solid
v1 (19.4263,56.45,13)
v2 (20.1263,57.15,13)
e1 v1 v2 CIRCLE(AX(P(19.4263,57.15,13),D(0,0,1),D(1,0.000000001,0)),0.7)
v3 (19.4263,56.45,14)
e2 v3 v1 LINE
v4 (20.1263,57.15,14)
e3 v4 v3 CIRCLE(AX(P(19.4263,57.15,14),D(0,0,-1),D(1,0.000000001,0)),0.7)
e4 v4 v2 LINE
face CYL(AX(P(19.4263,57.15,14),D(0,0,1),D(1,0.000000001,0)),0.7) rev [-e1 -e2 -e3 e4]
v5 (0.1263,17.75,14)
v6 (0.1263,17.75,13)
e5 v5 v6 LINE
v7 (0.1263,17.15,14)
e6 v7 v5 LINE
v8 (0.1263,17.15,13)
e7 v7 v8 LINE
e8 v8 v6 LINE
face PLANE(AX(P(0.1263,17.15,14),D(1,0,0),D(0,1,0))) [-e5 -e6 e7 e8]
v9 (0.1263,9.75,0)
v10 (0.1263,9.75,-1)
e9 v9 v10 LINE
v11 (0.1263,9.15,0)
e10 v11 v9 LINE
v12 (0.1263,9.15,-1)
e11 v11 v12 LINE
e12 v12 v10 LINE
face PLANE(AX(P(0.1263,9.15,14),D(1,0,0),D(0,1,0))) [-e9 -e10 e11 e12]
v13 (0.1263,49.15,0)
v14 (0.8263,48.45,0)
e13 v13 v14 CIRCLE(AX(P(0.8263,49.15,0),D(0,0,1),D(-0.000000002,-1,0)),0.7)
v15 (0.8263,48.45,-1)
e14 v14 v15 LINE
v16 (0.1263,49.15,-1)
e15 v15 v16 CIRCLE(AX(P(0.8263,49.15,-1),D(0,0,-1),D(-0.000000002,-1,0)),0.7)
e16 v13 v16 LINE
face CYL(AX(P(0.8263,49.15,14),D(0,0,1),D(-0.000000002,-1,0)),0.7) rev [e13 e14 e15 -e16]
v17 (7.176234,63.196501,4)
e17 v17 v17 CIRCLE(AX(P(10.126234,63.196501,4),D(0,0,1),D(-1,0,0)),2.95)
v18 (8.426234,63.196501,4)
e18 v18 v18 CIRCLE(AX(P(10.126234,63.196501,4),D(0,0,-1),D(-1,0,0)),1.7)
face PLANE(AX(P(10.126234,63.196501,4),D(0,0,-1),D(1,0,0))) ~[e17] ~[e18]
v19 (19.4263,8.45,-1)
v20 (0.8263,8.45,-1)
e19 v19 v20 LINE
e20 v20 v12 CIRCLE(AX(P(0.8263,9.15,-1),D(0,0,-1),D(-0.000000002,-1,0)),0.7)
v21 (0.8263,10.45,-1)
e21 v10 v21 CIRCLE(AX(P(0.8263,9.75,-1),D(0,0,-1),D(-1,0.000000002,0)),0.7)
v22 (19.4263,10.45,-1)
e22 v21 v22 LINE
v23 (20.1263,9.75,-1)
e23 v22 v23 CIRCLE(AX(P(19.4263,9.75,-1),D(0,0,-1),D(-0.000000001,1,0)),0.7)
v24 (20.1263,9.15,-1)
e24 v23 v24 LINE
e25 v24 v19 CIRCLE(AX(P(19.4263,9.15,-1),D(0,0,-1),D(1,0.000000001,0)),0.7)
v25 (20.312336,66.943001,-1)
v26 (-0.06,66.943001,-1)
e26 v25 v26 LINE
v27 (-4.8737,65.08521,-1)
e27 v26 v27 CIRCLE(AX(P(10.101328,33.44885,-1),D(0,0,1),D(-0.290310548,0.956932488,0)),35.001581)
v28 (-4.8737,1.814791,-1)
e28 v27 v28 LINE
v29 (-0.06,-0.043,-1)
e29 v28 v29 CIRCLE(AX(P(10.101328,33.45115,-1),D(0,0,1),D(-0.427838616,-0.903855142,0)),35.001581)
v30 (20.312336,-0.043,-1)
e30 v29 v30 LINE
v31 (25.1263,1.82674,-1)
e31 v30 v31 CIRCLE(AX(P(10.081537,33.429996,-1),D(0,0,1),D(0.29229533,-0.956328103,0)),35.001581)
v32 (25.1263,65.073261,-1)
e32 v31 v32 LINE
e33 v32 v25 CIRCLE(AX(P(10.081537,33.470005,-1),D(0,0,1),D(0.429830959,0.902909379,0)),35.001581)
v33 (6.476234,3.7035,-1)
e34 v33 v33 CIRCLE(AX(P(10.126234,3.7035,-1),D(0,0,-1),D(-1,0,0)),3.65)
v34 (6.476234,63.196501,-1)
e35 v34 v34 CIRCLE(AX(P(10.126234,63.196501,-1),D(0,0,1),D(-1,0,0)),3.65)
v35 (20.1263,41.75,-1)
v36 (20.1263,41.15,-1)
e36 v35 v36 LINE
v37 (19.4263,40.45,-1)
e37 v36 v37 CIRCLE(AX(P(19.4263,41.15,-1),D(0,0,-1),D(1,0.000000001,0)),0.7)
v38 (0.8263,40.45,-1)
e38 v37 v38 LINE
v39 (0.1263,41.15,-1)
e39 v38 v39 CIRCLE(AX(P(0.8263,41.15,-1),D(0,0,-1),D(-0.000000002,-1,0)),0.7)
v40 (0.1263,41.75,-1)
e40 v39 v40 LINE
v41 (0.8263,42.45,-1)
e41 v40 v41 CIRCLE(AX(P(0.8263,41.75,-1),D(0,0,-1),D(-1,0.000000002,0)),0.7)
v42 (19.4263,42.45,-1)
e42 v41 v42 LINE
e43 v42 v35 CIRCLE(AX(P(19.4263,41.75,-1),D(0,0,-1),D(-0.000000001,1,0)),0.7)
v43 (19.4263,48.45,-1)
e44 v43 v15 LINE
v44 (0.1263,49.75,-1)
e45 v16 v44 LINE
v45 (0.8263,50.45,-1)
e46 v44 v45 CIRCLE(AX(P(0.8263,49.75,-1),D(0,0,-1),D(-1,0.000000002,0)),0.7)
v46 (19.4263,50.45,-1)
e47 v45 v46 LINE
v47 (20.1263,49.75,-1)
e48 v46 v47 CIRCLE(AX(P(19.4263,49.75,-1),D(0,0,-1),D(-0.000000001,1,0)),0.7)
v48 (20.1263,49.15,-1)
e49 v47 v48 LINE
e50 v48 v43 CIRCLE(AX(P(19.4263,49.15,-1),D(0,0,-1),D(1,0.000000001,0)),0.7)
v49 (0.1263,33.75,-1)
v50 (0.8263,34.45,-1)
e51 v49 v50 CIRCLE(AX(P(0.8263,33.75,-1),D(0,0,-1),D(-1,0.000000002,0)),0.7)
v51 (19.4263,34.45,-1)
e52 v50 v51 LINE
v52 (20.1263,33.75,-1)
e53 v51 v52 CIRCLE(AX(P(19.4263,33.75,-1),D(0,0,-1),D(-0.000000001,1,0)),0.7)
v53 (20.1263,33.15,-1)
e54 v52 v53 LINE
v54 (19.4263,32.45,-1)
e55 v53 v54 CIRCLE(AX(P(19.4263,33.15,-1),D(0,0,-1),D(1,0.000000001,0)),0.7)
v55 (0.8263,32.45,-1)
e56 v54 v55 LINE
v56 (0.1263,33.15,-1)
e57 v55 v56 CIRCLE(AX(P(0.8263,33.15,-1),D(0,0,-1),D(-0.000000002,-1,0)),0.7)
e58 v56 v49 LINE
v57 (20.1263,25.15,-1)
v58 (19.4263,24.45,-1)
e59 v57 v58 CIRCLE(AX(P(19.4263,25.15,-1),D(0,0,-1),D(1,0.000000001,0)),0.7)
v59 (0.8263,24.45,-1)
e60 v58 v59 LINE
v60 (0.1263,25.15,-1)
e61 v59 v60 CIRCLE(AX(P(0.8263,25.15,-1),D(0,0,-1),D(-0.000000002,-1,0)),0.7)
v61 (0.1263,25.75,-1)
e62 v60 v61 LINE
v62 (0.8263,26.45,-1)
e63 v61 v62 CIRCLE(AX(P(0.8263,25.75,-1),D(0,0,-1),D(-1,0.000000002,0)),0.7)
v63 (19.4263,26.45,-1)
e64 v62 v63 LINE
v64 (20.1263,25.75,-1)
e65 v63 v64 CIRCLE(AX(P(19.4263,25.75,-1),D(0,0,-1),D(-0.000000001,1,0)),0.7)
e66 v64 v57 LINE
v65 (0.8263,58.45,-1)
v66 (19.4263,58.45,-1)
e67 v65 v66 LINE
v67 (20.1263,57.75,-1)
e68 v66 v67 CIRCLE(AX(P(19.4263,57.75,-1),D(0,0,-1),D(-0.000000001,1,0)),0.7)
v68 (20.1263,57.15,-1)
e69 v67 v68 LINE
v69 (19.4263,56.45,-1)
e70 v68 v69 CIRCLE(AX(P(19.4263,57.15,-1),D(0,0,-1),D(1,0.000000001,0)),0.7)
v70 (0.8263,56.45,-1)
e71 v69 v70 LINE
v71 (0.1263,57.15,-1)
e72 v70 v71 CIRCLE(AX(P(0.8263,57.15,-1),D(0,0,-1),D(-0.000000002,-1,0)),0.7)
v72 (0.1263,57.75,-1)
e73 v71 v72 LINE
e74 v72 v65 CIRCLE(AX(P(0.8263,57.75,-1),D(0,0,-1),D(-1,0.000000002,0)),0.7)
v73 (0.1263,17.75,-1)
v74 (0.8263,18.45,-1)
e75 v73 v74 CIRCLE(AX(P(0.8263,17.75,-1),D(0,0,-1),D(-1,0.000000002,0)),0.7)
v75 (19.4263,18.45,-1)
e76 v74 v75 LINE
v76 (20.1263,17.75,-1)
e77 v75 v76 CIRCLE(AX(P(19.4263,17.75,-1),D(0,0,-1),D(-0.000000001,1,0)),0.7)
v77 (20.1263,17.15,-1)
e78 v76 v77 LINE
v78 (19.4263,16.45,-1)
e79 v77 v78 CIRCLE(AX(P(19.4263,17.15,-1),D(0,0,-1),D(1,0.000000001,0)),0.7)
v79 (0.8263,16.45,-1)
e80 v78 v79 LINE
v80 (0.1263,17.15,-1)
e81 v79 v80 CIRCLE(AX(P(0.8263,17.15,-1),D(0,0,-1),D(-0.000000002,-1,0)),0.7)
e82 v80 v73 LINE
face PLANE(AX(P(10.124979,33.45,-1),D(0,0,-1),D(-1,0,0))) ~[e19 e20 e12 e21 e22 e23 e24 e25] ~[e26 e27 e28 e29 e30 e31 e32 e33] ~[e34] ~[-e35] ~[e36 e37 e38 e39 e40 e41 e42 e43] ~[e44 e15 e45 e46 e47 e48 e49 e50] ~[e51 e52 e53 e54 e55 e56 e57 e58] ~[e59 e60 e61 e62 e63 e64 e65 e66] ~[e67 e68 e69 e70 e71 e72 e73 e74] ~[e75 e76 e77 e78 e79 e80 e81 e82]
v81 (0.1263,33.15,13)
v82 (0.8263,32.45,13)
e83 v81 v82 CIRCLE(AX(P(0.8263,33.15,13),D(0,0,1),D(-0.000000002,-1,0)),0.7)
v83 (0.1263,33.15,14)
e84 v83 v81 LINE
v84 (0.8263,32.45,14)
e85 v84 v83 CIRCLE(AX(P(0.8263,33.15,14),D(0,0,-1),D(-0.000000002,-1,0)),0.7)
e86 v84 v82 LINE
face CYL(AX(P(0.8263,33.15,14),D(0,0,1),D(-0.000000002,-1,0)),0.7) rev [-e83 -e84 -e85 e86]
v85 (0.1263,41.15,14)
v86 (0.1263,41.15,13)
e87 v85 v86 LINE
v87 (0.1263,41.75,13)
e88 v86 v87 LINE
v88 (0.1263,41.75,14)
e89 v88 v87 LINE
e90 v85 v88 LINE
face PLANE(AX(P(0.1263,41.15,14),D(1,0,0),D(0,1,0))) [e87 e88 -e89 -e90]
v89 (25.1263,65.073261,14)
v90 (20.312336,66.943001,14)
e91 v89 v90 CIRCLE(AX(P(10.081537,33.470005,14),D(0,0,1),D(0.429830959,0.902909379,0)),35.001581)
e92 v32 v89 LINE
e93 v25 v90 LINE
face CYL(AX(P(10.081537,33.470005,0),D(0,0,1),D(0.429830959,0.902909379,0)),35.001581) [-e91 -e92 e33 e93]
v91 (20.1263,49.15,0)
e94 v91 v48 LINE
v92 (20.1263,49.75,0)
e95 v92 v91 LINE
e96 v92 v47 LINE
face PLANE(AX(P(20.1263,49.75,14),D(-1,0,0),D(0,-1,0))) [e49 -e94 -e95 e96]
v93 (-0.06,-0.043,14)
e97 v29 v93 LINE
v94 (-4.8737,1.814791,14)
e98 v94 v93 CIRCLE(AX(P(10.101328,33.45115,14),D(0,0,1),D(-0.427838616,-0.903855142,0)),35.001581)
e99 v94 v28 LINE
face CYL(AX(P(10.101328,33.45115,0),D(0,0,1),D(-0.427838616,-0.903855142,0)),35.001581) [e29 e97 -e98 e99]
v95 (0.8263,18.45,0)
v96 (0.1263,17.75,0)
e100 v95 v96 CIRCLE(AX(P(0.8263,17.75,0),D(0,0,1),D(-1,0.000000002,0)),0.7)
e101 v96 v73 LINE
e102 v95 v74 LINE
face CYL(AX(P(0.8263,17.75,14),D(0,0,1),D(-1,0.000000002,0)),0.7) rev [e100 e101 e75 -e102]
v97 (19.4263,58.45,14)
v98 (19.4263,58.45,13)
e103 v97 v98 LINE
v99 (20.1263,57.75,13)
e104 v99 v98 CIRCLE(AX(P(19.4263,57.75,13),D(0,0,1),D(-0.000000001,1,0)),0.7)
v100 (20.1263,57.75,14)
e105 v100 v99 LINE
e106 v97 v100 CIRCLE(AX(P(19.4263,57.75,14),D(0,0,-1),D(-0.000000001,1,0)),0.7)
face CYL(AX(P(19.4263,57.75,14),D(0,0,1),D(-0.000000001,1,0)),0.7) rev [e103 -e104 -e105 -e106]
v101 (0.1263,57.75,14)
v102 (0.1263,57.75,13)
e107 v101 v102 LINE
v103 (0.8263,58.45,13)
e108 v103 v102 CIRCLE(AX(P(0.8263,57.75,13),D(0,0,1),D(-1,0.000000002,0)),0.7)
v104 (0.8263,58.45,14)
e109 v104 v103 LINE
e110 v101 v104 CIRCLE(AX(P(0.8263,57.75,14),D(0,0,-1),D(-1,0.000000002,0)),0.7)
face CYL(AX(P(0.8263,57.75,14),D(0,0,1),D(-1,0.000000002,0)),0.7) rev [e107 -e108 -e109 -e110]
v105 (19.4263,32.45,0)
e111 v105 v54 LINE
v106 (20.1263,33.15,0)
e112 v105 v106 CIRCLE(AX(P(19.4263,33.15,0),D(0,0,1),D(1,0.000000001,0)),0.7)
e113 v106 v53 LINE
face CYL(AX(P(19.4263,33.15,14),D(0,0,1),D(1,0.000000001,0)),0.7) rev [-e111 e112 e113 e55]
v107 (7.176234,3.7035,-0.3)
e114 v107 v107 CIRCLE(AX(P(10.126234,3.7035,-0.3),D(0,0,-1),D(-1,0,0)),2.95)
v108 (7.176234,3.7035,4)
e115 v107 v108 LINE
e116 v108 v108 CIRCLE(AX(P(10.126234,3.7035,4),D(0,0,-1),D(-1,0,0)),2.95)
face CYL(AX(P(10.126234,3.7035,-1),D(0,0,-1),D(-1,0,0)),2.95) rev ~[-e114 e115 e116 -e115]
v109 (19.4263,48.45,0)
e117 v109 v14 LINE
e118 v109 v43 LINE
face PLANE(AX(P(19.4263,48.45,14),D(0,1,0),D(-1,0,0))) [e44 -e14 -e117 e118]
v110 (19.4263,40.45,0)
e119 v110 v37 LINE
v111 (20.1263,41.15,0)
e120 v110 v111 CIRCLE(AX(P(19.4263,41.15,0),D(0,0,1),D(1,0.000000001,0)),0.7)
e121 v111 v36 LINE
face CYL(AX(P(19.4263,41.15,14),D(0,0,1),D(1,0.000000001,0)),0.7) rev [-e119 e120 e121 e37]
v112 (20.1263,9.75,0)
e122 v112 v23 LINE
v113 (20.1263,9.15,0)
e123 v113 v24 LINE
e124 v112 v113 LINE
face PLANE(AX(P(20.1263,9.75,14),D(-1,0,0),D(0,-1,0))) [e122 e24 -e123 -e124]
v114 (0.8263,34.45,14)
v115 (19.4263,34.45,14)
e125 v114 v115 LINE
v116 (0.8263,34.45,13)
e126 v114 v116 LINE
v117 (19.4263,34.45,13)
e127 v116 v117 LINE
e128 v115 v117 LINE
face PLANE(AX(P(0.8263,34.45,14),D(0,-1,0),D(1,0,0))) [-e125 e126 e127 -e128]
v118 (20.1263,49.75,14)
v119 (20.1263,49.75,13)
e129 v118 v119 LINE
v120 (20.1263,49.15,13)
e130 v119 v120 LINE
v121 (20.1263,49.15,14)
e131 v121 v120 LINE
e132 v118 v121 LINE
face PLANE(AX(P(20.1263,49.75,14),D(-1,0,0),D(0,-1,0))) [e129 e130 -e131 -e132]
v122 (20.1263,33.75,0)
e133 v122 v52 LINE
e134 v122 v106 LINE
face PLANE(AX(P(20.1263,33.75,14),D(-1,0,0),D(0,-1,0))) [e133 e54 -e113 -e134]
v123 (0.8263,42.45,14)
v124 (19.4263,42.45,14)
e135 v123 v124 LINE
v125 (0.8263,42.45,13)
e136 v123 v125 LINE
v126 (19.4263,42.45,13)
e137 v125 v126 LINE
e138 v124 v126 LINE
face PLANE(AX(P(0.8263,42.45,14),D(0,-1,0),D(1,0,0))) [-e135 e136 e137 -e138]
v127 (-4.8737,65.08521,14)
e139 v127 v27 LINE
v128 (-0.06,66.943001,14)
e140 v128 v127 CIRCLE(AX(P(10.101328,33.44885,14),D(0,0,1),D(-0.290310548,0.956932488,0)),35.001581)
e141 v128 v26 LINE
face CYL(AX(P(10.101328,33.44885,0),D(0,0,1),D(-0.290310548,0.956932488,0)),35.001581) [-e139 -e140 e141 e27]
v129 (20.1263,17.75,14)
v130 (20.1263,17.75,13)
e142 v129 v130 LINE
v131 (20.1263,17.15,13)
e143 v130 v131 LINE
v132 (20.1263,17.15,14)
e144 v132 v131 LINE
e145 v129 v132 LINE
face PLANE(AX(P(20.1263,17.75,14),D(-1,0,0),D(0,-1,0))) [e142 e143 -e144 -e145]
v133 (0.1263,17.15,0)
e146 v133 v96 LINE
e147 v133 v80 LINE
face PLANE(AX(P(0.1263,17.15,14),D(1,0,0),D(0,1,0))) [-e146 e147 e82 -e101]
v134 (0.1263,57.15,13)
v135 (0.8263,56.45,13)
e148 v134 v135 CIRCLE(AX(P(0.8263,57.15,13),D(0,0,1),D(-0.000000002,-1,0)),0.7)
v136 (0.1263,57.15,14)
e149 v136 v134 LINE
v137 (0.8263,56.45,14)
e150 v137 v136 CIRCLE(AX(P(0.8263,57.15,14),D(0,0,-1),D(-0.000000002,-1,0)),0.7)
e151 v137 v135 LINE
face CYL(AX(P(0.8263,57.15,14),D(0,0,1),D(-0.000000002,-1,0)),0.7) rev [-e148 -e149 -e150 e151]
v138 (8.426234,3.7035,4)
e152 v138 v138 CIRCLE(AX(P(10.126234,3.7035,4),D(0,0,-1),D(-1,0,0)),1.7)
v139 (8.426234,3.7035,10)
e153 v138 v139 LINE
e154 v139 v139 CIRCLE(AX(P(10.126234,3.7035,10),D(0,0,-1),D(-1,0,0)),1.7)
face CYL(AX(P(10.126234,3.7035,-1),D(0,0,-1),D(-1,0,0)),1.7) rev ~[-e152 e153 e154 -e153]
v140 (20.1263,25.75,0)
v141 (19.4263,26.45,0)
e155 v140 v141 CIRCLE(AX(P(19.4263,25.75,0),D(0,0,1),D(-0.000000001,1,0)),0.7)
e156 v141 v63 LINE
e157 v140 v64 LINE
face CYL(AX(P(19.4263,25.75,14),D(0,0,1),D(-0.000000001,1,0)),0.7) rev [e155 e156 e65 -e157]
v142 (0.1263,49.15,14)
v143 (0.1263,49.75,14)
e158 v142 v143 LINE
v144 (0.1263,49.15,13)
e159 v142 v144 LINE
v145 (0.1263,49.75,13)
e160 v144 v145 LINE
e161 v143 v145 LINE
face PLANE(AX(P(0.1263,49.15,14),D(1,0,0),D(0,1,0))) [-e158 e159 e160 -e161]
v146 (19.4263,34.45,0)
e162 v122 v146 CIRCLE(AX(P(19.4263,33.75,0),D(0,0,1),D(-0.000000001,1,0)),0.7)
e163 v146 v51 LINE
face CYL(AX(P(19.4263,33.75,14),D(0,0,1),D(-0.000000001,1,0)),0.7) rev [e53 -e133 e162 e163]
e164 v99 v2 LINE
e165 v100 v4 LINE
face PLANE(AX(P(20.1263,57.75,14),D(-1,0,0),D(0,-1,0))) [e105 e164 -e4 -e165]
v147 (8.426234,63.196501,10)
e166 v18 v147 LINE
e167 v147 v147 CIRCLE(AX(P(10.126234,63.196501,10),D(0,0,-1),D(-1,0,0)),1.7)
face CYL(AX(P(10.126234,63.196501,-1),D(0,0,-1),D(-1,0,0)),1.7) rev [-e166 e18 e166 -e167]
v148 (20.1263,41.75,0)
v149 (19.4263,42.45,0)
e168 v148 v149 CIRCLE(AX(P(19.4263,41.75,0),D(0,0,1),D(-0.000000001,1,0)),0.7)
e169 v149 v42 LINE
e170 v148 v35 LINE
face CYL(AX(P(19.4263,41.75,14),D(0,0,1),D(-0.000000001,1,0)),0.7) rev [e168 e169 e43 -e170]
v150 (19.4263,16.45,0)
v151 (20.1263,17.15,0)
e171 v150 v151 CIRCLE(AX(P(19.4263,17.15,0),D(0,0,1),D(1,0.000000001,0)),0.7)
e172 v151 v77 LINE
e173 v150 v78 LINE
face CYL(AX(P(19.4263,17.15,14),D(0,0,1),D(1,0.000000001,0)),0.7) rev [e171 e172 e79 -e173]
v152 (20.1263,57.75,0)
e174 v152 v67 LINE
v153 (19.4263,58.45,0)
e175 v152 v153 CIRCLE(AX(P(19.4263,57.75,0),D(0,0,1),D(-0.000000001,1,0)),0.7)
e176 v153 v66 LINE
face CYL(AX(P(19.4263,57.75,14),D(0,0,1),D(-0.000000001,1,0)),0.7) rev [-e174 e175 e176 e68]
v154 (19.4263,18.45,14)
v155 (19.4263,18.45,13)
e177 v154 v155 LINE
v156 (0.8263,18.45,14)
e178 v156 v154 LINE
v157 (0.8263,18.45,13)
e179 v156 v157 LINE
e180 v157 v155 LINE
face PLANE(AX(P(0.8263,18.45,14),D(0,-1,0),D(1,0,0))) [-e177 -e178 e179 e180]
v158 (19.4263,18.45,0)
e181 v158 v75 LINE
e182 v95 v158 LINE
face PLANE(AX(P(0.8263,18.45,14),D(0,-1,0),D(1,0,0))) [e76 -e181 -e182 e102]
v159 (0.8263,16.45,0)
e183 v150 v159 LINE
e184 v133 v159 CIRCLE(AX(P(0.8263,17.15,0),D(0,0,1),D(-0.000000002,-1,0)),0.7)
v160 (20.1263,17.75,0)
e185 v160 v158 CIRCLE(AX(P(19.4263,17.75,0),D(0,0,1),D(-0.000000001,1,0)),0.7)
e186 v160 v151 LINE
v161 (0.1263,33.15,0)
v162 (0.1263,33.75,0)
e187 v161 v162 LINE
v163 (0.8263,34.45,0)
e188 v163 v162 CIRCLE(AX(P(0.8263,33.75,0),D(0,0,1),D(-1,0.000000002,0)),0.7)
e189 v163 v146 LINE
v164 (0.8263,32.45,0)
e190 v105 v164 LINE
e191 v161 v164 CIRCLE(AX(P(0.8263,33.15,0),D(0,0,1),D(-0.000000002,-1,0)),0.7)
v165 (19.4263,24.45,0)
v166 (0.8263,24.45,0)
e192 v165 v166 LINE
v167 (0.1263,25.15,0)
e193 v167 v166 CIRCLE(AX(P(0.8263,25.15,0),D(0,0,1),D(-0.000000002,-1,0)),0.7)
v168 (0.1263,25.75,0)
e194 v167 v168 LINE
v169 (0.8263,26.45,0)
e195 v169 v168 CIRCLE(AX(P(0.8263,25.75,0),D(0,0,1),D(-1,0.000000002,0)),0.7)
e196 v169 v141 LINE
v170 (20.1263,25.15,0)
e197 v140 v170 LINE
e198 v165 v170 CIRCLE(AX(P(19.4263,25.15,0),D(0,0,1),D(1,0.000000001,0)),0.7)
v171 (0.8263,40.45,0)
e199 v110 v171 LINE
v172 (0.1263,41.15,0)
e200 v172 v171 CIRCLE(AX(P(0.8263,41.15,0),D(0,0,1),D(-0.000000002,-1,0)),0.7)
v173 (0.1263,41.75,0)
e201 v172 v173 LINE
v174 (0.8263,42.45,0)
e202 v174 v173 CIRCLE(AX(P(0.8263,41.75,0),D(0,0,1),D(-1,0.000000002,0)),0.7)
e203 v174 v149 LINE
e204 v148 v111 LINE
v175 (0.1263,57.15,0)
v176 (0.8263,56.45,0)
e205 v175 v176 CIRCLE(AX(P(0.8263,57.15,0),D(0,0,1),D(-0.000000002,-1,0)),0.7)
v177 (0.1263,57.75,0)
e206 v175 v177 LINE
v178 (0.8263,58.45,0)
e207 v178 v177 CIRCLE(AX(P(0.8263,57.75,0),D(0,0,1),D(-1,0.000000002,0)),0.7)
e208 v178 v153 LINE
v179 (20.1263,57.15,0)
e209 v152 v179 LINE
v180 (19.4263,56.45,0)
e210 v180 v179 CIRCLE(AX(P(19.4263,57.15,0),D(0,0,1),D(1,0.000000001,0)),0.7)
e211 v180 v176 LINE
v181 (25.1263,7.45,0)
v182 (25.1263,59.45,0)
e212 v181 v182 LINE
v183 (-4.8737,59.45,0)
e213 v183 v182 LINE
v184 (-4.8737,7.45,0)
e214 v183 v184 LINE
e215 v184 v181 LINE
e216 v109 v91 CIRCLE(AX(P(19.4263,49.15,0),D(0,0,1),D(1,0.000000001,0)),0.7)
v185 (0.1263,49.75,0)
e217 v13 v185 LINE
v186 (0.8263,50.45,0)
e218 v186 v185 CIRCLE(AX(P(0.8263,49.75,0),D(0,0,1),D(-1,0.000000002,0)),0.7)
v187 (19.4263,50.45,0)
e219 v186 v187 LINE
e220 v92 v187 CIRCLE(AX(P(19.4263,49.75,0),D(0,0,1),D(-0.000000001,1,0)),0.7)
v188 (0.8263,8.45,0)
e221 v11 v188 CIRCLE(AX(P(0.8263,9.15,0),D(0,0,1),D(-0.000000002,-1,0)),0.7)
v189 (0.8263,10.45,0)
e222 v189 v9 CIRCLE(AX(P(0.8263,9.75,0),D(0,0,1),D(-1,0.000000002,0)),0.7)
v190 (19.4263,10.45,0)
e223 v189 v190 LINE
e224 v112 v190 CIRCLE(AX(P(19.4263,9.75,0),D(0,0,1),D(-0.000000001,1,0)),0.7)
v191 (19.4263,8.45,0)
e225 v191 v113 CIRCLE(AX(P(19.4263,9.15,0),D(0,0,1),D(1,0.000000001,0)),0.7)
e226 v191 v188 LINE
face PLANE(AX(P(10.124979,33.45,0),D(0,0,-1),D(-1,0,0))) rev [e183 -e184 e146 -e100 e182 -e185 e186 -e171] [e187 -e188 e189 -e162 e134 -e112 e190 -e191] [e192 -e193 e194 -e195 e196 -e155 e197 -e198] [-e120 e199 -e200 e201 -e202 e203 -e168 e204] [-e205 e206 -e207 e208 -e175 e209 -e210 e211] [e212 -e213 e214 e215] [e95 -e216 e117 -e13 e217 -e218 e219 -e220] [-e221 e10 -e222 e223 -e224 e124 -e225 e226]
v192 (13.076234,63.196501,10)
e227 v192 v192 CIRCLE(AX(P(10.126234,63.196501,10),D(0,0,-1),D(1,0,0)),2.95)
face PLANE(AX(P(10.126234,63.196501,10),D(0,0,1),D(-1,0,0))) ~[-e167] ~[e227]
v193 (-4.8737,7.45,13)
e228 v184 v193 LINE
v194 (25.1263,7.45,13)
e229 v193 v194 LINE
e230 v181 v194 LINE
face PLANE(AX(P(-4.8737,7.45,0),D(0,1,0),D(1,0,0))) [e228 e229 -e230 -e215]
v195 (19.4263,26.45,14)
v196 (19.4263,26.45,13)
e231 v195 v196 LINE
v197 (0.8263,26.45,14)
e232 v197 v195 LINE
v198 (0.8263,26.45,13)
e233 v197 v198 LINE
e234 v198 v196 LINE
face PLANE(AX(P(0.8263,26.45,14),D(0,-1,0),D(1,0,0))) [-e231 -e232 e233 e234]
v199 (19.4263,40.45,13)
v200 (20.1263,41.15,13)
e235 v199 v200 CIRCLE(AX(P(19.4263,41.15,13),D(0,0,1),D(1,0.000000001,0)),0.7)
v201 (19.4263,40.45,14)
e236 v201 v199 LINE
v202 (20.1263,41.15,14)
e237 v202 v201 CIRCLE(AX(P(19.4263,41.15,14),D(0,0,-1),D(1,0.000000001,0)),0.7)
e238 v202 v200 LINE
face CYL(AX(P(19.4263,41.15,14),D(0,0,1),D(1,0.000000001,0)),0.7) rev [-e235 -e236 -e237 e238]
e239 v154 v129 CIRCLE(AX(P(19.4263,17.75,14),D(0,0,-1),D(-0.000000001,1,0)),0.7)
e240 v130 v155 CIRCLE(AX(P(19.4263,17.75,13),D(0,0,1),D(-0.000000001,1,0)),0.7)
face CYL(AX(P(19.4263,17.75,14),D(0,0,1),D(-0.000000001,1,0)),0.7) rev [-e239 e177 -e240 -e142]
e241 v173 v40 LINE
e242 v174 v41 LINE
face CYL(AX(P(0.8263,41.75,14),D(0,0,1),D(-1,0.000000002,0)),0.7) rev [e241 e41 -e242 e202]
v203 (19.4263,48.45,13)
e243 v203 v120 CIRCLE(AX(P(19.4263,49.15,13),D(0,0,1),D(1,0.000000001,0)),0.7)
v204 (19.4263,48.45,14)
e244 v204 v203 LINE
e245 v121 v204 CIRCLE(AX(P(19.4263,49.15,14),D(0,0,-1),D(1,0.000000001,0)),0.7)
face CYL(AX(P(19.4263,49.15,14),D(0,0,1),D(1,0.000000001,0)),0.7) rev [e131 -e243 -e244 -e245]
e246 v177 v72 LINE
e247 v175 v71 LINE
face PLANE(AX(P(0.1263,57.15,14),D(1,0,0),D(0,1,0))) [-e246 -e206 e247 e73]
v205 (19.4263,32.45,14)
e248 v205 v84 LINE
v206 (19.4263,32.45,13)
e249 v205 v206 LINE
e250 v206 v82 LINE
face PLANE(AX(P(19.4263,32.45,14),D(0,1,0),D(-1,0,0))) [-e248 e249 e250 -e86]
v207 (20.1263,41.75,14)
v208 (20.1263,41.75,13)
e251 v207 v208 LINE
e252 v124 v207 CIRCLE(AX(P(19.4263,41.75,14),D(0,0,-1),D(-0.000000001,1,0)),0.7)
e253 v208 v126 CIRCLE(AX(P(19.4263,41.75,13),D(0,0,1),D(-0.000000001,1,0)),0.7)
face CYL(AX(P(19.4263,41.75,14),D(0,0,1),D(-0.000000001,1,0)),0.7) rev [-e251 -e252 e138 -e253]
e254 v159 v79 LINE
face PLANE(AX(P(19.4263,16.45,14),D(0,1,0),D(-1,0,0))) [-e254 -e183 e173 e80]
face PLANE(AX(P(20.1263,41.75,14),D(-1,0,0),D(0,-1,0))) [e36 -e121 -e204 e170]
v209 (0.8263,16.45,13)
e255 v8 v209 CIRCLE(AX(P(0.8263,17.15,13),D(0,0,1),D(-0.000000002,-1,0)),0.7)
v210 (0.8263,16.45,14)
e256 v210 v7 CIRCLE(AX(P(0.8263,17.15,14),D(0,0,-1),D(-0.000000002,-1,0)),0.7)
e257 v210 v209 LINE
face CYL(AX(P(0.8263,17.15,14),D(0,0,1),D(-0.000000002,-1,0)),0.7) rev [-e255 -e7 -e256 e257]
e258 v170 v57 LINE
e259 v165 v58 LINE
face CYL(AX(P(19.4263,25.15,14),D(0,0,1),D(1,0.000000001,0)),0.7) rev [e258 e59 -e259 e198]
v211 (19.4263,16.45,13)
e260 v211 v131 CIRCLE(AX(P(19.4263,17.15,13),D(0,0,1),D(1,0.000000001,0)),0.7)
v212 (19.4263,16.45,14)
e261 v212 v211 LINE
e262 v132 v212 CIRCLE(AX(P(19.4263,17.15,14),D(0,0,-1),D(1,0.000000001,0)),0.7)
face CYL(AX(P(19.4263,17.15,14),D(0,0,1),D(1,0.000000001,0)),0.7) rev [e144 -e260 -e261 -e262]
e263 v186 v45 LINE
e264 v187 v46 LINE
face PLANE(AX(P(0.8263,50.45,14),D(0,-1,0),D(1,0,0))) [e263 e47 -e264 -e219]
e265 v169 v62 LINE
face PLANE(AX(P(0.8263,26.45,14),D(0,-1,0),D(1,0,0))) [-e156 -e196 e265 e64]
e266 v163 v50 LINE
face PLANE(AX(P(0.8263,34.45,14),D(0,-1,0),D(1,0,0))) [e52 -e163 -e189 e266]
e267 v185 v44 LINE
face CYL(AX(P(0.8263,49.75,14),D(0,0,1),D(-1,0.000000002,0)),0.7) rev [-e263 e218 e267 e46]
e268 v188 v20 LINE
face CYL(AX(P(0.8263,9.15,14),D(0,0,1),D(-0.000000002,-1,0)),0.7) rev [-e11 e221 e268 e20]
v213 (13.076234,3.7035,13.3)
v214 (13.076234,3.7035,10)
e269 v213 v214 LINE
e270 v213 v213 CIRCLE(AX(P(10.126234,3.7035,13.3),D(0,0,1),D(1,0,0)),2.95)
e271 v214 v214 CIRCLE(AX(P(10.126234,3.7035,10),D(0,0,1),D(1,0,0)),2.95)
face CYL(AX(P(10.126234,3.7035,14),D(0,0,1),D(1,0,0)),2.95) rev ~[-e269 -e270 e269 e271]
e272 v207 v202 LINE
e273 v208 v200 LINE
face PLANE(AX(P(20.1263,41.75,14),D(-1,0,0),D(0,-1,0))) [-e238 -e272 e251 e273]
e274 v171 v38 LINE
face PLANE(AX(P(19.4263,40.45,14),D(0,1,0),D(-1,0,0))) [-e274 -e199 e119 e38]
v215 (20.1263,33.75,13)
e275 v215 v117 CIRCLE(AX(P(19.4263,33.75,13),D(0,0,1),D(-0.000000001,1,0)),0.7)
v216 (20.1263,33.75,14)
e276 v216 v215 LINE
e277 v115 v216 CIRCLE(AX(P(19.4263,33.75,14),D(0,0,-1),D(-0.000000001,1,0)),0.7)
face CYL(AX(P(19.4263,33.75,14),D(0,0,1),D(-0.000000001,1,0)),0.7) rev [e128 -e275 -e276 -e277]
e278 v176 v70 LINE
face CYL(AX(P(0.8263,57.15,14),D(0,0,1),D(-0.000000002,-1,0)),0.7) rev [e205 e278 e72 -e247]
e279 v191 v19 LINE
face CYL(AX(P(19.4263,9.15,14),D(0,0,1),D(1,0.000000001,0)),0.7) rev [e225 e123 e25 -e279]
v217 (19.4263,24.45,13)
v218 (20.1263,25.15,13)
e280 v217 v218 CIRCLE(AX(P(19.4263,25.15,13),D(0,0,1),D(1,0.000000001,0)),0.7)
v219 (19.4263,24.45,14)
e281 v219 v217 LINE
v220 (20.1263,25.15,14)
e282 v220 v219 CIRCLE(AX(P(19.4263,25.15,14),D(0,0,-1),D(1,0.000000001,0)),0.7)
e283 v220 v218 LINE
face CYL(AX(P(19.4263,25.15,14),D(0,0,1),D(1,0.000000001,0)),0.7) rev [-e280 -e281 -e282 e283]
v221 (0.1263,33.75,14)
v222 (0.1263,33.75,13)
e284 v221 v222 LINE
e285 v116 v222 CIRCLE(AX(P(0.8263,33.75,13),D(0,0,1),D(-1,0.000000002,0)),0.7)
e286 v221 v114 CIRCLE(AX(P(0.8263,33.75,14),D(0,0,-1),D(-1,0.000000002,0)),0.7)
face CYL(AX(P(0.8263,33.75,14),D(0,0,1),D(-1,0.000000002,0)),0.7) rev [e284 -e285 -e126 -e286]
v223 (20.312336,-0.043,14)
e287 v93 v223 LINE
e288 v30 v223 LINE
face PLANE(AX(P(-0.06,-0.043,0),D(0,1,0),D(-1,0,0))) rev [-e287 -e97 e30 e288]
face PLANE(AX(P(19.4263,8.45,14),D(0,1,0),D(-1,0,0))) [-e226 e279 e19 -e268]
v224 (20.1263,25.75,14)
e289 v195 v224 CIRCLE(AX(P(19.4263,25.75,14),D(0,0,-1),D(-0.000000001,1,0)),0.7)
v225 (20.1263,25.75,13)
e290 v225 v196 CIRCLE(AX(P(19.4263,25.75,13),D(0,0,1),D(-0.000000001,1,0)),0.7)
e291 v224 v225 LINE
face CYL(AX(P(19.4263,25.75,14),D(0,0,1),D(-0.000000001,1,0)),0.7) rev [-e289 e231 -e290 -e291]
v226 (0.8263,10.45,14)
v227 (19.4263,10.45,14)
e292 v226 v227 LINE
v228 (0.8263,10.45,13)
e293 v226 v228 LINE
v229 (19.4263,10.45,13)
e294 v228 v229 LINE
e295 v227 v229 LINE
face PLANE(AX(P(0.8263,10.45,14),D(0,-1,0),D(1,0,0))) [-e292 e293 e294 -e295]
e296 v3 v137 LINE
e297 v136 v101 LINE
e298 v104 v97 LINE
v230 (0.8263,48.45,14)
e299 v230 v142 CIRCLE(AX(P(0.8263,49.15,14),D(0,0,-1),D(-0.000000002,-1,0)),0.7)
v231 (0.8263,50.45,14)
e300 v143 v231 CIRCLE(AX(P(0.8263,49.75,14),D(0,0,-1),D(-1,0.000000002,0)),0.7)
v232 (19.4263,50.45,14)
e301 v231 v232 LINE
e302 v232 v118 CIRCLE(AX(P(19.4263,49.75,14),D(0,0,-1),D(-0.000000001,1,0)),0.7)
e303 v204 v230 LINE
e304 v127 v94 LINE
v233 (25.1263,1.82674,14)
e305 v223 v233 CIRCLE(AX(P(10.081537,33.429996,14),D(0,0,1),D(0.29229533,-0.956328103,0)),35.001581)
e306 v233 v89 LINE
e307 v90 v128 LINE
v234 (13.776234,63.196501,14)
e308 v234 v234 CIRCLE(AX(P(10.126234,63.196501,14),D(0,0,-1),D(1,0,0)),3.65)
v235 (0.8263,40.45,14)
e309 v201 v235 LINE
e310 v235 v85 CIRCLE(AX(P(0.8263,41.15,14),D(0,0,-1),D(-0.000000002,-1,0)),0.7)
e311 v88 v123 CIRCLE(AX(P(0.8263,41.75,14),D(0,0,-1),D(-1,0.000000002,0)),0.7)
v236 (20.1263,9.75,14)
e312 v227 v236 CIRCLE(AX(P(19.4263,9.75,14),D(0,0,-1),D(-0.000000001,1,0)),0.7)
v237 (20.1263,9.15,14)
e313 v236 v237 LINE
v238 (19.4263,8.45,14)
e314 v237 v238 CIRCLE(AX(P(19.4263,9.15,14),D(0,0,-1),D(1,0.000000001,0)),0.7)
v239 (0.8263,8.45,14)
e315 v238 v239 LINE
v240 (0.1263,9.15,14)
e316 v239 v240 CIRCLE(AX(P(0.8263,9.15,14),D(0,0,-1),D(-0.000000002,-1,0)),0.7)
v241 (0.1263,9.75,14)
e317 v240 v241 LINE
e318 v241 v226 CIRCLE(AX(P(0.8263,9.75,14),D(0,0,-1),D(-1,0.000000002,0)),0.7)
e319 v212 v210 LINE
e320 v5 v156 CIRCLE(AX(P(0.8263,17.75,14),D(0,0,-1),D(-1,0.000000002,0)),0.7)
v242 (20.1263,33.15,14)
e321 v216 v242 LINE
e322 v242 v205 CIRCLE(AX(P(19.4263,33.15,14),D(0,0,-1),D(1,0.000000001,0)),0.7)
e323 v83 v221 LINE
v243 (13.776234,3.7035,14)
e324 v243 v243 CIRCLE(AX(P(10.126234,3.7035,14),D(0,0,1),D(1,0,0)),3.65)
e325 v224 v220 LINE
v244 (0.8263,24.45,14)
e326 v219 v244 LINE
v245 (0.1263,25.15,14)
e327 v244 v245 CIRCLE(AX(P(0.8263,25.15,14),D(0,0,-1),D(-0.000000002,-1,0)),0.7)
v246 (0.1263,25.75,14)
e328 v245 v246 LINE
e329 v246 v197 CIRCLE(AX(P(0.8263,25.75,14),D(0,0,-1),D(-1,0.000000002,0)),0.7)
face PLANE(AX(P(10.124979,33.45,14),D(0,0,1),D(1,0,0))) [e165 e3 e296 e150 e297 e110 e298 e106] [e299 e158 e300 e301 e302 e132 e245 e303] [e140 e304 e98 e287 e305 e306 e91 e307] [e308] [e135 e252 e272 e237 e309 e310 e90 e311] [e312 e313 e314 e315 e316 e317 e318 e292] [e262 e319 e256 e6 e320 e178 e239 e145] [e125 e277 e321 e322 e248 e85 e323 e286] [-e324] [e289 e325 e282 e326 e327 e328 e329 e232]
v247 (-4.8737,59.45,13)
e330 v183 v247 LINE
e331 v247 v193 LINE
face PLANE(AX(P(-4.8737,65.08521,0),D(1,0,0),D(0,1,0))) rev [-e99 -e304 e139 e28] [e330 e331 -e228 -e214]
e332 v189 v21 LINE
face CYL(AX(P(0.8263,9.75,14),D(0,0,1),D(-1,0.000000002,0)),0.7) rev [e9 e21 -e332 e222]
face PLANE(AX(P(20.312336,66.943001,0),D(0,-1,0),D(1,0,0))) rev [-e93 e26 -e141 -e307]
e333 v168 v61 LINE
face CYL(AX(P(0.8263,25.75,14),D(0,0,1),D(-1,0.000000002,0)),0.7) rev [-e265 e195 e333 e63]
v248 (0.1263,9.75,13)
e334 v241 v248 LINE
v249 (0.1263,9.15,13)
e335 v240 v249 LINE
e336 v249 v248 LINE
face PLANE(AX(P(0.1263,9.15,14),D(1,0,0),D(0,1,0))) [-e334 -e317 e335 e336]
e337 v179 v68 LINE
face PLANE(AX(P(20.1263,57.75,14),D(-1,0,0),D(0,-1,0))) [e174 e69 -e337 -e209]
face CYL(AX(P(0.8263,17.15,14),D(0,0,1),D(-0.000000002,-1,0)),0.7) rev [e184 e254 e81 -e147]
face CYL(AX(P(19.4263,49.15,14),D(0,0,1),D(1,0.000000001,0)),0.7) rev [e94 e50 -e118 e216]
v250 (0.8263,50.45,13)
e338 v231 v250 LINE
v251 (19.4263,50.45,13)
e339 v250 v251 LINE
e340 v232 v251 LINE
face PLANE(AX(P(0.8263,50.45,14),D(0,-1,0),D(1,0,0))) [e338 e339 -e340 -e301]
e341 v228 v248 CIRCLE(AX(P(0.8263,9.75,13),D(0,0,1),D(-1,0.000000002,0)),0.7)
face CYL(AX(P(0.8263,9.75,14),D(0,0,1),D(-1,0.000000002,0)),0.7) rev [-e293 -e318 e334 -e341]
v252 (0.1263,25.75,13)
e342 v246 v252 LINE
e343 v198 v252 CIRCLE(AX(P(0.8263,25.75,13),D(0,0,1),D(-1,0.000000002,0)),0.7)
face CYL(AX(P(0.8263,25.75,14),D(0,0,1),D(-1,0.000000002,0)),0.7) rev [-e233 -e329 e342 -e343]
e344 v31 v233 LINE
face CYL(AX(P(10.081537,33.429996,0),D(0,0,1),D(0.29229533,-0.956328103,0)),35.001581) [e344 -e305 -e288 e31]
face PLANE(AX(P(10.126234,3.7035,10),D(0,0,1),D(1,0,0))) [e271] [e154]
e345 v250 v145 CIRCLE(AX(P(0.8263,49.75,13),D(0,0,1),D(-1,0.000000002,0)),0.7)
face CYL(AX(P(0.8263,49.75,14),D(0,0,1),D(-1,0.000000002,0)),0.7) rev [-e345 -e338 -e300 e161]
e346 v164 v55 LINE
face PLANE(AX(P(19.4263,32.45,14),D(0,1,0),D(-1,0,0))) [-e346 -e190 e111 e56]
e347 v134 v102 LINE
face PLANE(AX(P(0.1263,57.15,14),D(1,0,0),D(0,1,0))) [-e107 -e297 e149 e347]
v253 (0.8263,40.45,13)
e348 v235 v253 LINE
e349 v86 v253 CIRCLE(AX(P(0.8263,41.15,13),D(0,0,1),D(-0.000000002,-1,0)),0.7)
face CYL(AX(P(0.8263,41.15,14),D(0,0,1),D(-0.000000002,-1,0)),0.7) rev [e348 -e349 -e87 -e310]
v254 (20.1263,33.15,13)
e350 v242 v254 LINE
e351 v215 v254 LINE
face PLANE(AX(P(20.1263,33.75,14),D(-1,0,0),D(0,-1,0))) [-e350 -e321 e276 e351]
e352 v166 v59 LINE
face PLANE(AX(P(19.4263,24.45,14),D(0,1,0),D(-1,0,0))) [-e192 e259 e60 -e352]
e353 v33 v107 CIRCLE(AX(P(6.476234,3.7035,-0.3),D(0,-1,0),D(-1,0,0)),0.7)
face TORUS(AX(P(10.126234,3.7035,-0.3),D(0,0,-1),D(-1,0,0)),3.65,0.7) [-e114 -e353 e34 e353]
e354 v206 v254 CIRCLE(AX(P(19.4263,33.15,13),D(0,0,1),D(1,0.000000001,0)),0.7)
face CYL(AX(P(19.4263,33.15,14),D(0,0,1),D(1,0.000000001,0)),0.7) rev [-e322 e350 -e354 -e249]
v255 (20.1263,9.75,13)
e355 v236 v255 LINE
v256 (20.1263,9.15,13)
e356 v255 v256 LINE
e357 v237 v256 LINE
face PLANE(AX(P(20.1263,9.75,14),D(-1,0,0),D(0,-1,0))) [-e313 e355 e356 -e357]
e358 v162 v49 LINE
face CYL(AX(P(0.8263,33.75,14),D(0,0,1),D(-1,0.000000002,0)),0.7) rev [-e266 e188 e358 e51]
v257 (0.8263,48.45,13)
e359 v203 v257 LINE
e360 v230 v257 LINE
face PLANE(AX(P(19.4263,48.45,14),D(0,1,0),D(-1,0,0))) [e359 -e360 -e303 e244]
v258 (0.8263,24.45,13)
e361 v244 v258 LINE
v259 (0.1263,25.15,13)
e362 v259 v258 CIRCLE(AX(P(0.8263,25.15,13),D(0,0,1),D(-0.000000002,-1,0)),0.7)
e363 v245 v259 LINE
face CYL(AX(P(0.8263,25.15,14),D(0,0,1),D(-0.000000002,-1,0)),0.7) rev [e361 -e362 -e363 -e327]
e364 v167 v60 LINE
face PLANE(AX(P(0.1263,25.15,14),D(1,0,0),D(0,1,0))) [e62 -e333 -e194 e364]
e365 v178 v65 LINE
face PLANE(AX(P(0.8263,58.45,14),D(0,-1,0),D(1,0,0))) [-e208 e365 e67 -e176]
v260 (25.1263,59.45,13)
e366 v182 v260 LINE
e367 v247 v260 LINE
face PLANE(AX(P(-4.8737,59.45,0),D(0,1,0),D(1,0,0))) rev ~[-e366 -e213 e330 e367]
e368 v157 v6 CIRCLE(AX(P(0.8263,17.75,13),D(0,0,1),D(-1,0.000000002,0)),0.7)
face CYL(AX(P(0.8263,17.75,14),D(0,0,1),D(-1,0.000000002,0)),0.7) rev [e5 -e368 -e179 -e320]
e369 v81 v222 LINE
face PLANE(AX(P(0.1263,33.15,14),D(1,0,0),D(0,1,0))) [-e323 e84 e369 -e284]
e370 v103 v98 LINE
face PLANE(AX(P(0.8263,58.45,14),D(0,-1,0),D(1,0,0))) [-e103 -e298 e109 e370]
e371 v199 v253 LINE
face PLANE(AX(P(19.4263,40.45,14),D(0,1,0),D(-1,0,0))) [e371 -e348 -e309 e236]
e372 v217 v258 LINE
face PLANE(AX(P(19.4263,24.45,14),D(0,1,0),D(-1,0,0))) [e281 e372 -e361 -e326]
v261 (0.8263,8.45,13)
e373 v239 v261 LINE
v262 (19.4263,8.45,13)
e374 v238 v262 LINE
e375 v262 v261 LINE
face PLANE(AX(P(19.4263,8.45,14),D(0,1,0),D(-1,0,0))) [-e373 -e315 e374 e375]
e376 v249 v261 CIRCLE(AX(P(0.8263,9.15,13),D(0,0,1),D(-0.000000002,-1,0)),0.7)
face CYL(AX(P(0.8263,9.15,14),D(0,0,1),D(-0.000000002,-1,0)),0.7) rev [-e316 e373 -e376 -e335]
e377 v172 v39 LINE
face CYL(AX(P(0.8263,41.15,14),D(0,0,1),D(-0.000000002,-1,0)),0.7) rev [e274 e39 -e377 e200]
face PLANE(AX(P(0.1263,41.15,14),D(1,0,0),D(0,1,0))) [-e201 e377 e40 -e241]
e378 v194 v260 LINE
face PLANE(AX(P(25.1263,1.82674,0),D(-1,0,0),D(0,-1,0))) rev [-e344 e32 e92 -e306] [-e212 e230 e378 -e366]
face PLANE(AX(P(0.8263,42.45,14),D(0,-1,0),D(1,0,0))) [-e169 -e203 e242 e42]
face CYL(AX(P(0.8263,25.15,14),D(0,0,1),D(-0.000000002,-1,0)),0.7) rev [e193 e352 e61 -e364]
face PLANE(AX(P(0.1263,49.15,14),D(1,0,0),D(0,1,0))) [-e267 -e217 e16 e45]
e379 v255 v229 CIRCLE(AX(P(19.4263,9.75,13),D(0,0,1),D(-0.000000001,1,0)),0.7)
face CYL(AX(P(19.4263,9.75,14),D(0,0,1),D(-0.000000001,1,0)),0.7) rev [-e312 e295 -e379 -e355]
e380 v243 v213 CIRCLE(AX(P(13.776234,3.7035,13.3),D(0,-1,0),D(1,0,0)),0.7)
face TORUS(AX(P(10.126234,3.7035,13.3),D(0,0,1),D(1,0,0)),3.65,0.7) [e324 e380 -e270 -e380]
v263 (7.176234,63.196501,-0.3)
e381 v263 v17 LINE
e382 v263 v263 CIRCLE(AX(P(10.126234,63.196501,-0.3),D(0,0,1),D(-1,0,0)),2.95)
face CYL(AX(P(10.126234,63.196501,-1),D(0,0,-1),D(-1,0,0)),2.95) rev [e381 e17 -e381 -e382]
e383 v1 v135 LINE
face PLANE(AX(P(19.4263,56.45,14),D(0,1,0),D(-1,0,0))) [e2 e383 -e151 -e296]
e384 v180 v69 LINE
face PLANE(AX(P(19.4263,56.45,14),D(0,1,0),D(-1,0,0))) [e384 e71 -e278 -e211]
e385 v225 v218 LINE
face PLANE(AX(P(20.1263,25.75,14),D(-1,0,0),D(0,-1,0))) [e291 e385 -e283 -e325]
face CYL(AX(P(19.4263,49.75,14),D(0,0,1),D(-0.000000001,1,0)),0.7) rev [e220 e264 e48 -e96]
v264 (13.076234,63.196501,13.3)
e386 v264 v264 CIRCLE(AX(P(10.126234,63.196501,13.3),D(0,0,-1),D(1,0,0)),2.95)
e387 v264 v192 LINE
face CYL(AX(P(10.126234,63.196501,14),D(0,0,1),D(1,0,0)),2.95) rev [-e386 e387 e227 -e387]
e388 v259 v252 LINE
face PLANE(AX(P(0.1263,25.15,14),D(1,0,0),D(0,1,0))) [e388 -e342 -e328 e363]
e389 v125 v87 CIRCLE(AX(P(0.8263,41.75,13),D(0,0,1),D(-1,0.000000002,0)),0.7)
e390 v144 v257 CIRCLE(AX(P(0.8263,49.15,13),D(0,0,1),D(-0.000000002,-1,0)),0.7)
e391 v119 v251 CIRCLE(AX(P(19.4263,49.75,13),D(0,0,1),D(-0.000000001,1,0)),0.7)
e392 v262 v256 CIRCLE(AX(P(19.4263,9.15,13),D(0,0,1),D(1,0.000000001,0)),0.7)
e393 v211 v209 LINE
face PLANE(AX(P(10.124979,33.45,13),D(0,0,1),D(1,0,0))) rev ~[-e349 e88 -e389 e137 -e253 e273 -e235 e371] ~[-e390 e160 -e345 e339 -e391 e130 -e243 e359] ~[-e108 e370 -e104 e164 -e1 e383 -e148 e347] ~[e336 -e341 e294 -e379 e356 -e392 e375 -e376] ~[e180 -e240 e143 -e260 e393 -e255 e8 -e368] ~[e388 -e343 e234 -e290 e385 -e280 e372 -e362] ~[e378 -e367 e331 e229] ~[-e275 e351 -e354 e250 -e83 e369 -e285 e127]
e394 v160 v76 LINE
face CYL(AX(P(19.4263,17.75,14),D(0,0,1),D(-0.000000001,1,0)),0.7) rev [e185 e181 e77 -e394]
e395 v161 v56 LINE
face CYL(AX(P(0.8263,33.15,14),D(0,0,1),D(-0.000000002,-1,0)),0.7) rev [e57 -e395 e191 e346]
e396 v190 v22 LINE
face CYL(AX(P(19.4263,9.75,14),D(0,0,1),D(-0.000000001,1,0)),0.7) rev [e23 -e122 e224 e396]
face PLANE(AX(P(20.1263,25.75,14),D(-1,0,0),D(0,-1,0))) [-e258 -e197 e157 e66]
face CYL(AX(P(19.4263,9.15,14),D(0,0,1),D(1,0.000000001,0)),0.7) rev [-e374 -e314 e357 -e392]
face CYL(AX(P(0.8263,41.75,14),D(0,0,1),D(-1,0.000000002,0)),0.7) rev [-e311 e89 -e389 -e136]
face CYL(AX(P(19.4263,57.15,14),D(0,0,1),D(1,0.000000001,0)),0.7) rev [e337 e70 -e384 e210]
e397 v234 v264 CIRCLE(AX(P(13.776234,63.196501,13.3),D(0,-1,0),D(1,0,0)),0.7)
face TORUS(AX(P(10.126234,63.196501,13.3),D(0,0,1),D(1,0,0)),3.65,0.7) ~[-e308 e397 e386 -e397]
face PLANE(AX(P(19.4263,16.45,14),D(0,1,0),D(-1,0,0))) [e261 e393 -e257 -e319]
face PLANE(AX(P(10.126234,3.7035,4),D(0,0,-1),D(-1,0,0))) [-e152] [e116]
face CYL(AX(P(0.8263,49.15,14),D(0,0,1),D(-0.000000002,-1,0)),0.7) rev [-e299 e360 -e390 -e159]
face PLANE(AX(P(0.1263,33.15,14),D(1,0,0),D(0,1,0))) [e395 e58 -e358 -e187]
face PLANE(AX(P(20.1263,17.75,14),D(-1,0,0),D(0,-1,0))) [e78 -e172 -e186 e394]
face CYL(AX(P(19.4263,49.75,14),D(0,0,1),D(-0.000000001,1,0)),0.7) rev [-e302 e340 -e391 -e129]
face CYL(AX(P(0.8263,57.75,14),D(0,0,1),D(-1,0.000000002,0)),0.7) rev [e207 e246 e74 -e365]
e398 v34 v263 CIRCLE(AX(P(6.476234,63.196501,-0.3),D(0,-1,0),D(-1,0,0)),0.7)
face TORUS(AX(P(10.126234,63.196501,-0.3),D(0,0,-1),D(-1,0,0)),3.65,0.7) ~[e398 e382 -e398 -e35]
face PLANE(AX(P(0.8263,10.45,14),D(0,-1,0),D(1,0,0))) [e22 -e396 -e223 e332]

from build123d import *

# Parameters (mm, degrees)
BOSS_EXTRUDE1_DEPTH     = 13
BOSS_EXTRUDE1_2_DEPTH   = 13
BOSS_EXTRUDE2_DEPTH     = 1
CUT_EXTRUDE1_DEPTH      = 1
CUT_EXTRUDE1_DEPTH_BACK = 15
SKETCH5_R               = 2.95
CUT_EXTRUDE2_DEPTH      = 4
SKETCH6_R               = 1.7
CUT_EXTRUDE3_DEPTH      = 15
SKETCH7_R               = 2.95
CUT_EXTRUDE4_DEPTH      = 5
FILLET1_R               = 0.7


with BuildPart() as part:
    # Sketch1 → Boss-Extrude1 (new body)
    with BuildSketch(Plane.XY):
        with BuildLine():
            Line((20.312335657, 66.943000793), (-0.059999997, 66.943000793))
            ThreePointArc((-0.059999997, 66.943000793), (-2.501129835, 66.102927517), (-4.873699875, 65.085209777))
            Line((-4.873699875, 65.085209777), (-4.873699875, 59.450000396))
            Line((-4.873699875, 59.450000396), (25.126300125, 59.450000396))
            Line((25.126300125, 59.450000396), (25.126300125, 65.073261004))
            ThreePointArc((25.126300125, 65.073261004), (22.753848848, 66.097036745), (20.312335657, 66.943000793))
        make_face()
    extrude(amount=BOSS_EXTRUDE1_DEPTH)



with BuildPart() as body_2:
    # Sketch1 → Boss-Extrude1 2 (new body)
    with BuildSketch(Plane.XY):
        with BuildLine():
            Line((-4.873699875, 7.450000396), (25.126300125, 7.450000396))
            Line((25.126300125, 7.450000396), (25.126300125, 1.826739788))
            ThreePointArc((25.126300125, 1.826739788), (22.753848848, 0.802964047), (20.312335657, -0.043000001))
            Line((20.312335657, -0.043000001), (-0.059999997, -0.043000001))
            ThreePointArc((-0.059999997, -0.043000001), (-2.501129835, 0.797073275), (-4.873699875, 1.814791015))
            Line((-4.873699875, 1.814791015), (-4.873699875, 7.450000396))
        make_face()
    extrude(amount=BOSS_EXTRUDE1_2_DEPTH)


with BuildPart() as part_1:
    add(part.part)

    add(body_2.part)  # Boss-Extrude2 merges body 2
    # Sketch2 → Boss-Extrude2 (add)
    with BuildSketch(Plane.XY.offset(13)):
        with BuildLine():
            Line((-4.873699875, 7.450000396), (-4.873699875, 1.814791015))
            ThreePointArc((-4.873699875, 1.814791015), (-2.501129835, 0.797073275), (-0.059999997, -0.043000001))
            Line((-0.059999997, -0.043000001), (20.312335657, -0.043000001))
            ThreePointArc((20.312335657, -0.043000001), (22.753848848, 0.802964047), (25.126300125, 1.826739788))
            Line((25.126300125, 1.826739788), (25.126300125, 7.450000396))
            Line((25.126300125, 7.450000396), (25.126300125, 59.450000396))
            Line((25.126300125, 59.450000396), (25.126300125, 65.073261004))
            ThreePointArc((25.126300125, 65.073261004), (22.753848848, 66.097036745), (20.312335657, 66.943000793))
            Line((20.312335657, 66.943000793), (-0.059999997, 66.943000793))
            ThreePointArc((-0.059999997, 66.943000793), (-2.501129835, 66.102927517), (-4.873699875, 65.085209777))
            Line((-4.873699875, 65.085209777), (-4.873699875, 59.450000396))
            Line((-4.873699875, 59.450000396), (-4.873699875, 7.450000396))
        make_face()
    boss_extrude2 = extrude(amount=BOSS_EXTRUDE2_DEPTH)

    # Mirror1: Boss-Extrude2 across plane
    add(boss_extrude2.mirror(Plane(origin=(0, 0, 6.5), x_dir=(1, 0, 0), z_dir=(0, 0, -1))))

    # Sketch3 → Cut-Extrude1 (cut, two sides)
    with BuildSketch(Plane.XY.offset(14)) as cut_extrude1_sk:
        with BuildLine():
            Line((19.426300125, 40.450000396), (0.826300125, 40.450000396))
            ThreePointArc((0.826300125, 40.450000396), (0.331325379, 40.655025649), (0.126300125, 41.150000396))
            Line((0.126300125, 41.150000396), (0.126300125, 41.750000396))
            ThreePointArc((0.126300125, 41.750000396), (0.331325379, 42.244975143), (0.826300125, 42.450000396))
            Line((0.826300125, 42.450000396), (19.426300125, 42.450000396))
            ThreePointArc((19.426300125, 42.450000396), (19.921274872, 42.244975143), (20.126300125, 41.750000396))
            Line((20.126300125, 41.750000396), (20.126300125, 41.150000396))
            ThreePointArc((20.126300125, 41.150000396), (19.921274872, 40.655025649), (19.426300125, 40.450000396))
        make_face()
        with BuildLine():
            Line((19.426300125, 32.450000396), (0.826300125, 32.450000396))
            ThreePointArc((0.826300125, 32.450000396), (0.331325379, 32.655025649), (0.126300125, 33.150000396))
            Line((0.126300125, 33.150000396), (0.126300125, 33.750000396))
            ThreePointArc((0.126300125, 33.750000396), (0.331325379, 34.244975143), (0.826300125, 34.450000396))
            Line((0.826300125, 34.450000396), (19.426300125, 34.450000396))
            ThreePointArc((19.426300125, 34.450000396), (19.921274872, 34.244975143), (20.126300125, 33.750000396))
            Line((20.126300125, 33.750000396), (20.126300125, 33.150000396))
            ThreePointArc((20.126300125, 33.150000396), (19.921274872, 32.655025649), (19.426300125, 32.450000396))
        make_face()
        with BuildLine():
            Line((19.426300125, 48.450000396), (0.826300125, 48.450000396))
            ThreePointArc((0.826300125, 48.450000396), (0.331325379, 48.655025649), (0.126300125, 49.150000396))
            Line((0.126300125, 49.150000396), (0.126300125, 49.750000396))
            ThreePointArc((0.126300125, 49.750000396), (0.331325379, 50.244975143), (0.826300125, 50.450000396))
            Line((0.826300125, 50.450000396), (19.426300125, 50.450000396))
            ThreePointArc((19.426300125, 50.450000396), (19.921274872, 50.244975143), (20.126300125, 49.750000396))
            Line((20.126300125, 49.750000396), (20.126300125, 49.150000396))
            ThreePointArc((20.126300125, 49.150000396), (19.921274872, 48.655025649), (19.426300125, 48.450000396))
        make_face()
        with BuildLine():
            Line((19.426300125, 56.450000396), (0.826300125, 56.450000396))
            ThreePointArc((0.826300125, 56.450000396), (0.331325379, 56.655025649), (0.126300125, 57.150000396))
            Line((0.126300125, 57.150000396), (0.126300125, 57.750000396))
            ThreePointArc((0.126300125, 57.750000396), (0.331325379, 58.244975143), (0.826300125, 58.450000396))
            Line((0.826300125, 58.450000396), (19.426300125, 58.450000396))
            ThreePointArc((19.426300125, 58.450000396), (19.921274872, 58.244975143), (20.126300125, 57.750000396))
            Line((20.126300125, 57.750000396), (20.126300125, 57.150000396))
            ThreePointArc((20.126300125, 57.150000396), (19.921274872, 56.655025649), (19.426300125, 56.450000396))
        make_face()
        with BuildLine():
            Line((19.426300125, 24.450000396), (0.826300125, 24.450000396))
            ThreePointArc((0.826300125, 24.450000396), (0.331325379, 24.655025649), (0.126300125, 25.150000396))
            Line((0.126300125, 25.150000396), (0.126300125, 25.750000396))
            ThreePointArc((0.126300125, 25.750000396), (0.331325379, 26.244975143), (0.826300125, 26.450000396))
            Line((0.826300125, 26.450000396), (19.426300125, 26.450000396))
            ThreePointArc((19.426300125, 26.450000396), (19.921274872, 26.244975143), (20.126300125, 25.750000396))
            Line((20.126300125, 25.750000396), (20.126300125, 25.150000396))
            ThreePointArc((20.126300125, 25.150000396), (19.921274872, 24.655025649), (19.426300125, 24.450000396))
        make_face()
        with BuildLine():
            Line((19.426300125, 16.450000396), (0.826300125, 16.450000396))
            ThreePointArc((0.826300125, 16.450000396), (0.331325379, 16.655025649), (0.126300125, 17.150000396))
            Line((0.126300125, 17.150000396), (0.126300125, 17.750000396))
            ThreePointArc((0.126300125, 17.750000396), (0.331325379, 18.244975143), (0.826300125, 18.450000396))
            Line((0.826300125, 18.450000396), (19.426300125, 18.450000396))
            ThreePointArc((19.426300125, 18.450000396), (19.921274872, 18.244975143), (20.126300125, 17.750000396))
            Line((20.126300125, 17.750000396), (20.126300125, 17.150000396))
            ThreePointArc((20.126300125, 17.150000396), (19.921274872, 16.655025649), (19.426300125, 16.450000396))
        make_face()
        with BuildLine():
            Line((19.426300125, 8.450000396), (0.826300125, 8.450000396))
            ThreePointArc((0.826300125, 8.450000396), (0.331325379, 8.655025649), (0.126300125, 9.150000396))
            Line((0.126300125, 9.150000396), (0.126300125, 9.750000396))
            ThreePointArc((0.126300125, 9.750000396), (0.331325379, 10.244975143), (0.826300125, 10.450000396))
            Line((0.826300125, 10.450000396), (19.426300125, 10.450000396))
            ThreePointArc((19.426300125, 10.450000396), (19.921274872, 10.244975143), (20.126300125, 9.750000396))
            Line((20.126300125, 9.750000396), (20.126300125, 9.150000396))
            ThreePointArc((20.126300125, 9.150000396), (19.921274872, 8.655025649), (19.426300125, 8.450000396))
        make_face()
    extrude(amount=CUT_EXTRUDE1_DEPTH, mode=Mode.SUBTRACT)
    extrude(cut_extrude1_sk.sketch, amount=-CUT_EXTRUDE1_DEPTH_BACK, mode=Mode.SUBTRACT)

    # Sketch5 → Cut-Extrude2 (cut)
    with BuildSketch(Plane.XY.offset(14)):
        with Locations((10.126233978, 3.703500197)):
            Circle(SKETCH5_R)
    cut_extrude2 = extrude(amount=-CUT_EXTRUDE2_DEPTH, mode=Mode.SUBTRACT)

    # Sketch6 → Cut-Extrude3 (cut)
    with BuildSketch(Plane(origin=(0, 0, -1), x_dir=(-1, 0, 0), z_dir=(0, 0, -1))):
        with Locations((-10.126233978, 3.703500197)):
            Circle(SKETCH6_R)
    cut_extrude3 = extrude(amount=-CUT_EXTRUDE3_DEPTH, mode=Mode.SUBTRACT)

    # Sketch7 → Cut-Extrude4 (cut)
    with BuildSketch(Plane(origin=(0, 0, -1), x_dir=(-1, 0, 0), z_dir=(0, 0, -1))):
        with Locations((-10.126233978, 3.703500197)):
            Circle(SKETCH7_R)
    cut_extrude4 = extrude(amount=-CUT_EXTRUDE4_DEPTH, mode=Mode.SUBTRACT)

    # Mirror3: Cut-Extrude2, Cut-Extrude3, Cut-Extrude4 across plane
    add(cut_extrude2.mirror(Plane(origin=(0, 33.450000396, 0), x_dir=(0, 0, 1), z_dir=(0, -1, 0))), mode=Mode.SUBTRACT)
    add(cut_extrude3.mirror(Plane(origin=(0, 33.450000396, 0), x_dir=(0, 0, 1), z_dir=(0, -1, 0))), mode=Mode.SUBTRACT)
    add(cut_extrude4.mirror(Plane(origin=(0, 33.450000396, 0), x_dir=(0, 0, 1), z_dir=(0, -1, 0))), mode=Mode.SUBTRACT)

    # Fillet1
    fillet1_edges = [part_1.edges().sort_by_distance(p)[0] for p in [
        (7.176233978, 3.703500197, 14),
        (13.076233978, 3.703500197, -1),
        (7.176233978, 63.196500595, 14),
        (13.076233978, 63.196500595, -1),
    ]]
    fillet(fillet1_edges, radius=FILLET1_R)


solid = part_1.part
